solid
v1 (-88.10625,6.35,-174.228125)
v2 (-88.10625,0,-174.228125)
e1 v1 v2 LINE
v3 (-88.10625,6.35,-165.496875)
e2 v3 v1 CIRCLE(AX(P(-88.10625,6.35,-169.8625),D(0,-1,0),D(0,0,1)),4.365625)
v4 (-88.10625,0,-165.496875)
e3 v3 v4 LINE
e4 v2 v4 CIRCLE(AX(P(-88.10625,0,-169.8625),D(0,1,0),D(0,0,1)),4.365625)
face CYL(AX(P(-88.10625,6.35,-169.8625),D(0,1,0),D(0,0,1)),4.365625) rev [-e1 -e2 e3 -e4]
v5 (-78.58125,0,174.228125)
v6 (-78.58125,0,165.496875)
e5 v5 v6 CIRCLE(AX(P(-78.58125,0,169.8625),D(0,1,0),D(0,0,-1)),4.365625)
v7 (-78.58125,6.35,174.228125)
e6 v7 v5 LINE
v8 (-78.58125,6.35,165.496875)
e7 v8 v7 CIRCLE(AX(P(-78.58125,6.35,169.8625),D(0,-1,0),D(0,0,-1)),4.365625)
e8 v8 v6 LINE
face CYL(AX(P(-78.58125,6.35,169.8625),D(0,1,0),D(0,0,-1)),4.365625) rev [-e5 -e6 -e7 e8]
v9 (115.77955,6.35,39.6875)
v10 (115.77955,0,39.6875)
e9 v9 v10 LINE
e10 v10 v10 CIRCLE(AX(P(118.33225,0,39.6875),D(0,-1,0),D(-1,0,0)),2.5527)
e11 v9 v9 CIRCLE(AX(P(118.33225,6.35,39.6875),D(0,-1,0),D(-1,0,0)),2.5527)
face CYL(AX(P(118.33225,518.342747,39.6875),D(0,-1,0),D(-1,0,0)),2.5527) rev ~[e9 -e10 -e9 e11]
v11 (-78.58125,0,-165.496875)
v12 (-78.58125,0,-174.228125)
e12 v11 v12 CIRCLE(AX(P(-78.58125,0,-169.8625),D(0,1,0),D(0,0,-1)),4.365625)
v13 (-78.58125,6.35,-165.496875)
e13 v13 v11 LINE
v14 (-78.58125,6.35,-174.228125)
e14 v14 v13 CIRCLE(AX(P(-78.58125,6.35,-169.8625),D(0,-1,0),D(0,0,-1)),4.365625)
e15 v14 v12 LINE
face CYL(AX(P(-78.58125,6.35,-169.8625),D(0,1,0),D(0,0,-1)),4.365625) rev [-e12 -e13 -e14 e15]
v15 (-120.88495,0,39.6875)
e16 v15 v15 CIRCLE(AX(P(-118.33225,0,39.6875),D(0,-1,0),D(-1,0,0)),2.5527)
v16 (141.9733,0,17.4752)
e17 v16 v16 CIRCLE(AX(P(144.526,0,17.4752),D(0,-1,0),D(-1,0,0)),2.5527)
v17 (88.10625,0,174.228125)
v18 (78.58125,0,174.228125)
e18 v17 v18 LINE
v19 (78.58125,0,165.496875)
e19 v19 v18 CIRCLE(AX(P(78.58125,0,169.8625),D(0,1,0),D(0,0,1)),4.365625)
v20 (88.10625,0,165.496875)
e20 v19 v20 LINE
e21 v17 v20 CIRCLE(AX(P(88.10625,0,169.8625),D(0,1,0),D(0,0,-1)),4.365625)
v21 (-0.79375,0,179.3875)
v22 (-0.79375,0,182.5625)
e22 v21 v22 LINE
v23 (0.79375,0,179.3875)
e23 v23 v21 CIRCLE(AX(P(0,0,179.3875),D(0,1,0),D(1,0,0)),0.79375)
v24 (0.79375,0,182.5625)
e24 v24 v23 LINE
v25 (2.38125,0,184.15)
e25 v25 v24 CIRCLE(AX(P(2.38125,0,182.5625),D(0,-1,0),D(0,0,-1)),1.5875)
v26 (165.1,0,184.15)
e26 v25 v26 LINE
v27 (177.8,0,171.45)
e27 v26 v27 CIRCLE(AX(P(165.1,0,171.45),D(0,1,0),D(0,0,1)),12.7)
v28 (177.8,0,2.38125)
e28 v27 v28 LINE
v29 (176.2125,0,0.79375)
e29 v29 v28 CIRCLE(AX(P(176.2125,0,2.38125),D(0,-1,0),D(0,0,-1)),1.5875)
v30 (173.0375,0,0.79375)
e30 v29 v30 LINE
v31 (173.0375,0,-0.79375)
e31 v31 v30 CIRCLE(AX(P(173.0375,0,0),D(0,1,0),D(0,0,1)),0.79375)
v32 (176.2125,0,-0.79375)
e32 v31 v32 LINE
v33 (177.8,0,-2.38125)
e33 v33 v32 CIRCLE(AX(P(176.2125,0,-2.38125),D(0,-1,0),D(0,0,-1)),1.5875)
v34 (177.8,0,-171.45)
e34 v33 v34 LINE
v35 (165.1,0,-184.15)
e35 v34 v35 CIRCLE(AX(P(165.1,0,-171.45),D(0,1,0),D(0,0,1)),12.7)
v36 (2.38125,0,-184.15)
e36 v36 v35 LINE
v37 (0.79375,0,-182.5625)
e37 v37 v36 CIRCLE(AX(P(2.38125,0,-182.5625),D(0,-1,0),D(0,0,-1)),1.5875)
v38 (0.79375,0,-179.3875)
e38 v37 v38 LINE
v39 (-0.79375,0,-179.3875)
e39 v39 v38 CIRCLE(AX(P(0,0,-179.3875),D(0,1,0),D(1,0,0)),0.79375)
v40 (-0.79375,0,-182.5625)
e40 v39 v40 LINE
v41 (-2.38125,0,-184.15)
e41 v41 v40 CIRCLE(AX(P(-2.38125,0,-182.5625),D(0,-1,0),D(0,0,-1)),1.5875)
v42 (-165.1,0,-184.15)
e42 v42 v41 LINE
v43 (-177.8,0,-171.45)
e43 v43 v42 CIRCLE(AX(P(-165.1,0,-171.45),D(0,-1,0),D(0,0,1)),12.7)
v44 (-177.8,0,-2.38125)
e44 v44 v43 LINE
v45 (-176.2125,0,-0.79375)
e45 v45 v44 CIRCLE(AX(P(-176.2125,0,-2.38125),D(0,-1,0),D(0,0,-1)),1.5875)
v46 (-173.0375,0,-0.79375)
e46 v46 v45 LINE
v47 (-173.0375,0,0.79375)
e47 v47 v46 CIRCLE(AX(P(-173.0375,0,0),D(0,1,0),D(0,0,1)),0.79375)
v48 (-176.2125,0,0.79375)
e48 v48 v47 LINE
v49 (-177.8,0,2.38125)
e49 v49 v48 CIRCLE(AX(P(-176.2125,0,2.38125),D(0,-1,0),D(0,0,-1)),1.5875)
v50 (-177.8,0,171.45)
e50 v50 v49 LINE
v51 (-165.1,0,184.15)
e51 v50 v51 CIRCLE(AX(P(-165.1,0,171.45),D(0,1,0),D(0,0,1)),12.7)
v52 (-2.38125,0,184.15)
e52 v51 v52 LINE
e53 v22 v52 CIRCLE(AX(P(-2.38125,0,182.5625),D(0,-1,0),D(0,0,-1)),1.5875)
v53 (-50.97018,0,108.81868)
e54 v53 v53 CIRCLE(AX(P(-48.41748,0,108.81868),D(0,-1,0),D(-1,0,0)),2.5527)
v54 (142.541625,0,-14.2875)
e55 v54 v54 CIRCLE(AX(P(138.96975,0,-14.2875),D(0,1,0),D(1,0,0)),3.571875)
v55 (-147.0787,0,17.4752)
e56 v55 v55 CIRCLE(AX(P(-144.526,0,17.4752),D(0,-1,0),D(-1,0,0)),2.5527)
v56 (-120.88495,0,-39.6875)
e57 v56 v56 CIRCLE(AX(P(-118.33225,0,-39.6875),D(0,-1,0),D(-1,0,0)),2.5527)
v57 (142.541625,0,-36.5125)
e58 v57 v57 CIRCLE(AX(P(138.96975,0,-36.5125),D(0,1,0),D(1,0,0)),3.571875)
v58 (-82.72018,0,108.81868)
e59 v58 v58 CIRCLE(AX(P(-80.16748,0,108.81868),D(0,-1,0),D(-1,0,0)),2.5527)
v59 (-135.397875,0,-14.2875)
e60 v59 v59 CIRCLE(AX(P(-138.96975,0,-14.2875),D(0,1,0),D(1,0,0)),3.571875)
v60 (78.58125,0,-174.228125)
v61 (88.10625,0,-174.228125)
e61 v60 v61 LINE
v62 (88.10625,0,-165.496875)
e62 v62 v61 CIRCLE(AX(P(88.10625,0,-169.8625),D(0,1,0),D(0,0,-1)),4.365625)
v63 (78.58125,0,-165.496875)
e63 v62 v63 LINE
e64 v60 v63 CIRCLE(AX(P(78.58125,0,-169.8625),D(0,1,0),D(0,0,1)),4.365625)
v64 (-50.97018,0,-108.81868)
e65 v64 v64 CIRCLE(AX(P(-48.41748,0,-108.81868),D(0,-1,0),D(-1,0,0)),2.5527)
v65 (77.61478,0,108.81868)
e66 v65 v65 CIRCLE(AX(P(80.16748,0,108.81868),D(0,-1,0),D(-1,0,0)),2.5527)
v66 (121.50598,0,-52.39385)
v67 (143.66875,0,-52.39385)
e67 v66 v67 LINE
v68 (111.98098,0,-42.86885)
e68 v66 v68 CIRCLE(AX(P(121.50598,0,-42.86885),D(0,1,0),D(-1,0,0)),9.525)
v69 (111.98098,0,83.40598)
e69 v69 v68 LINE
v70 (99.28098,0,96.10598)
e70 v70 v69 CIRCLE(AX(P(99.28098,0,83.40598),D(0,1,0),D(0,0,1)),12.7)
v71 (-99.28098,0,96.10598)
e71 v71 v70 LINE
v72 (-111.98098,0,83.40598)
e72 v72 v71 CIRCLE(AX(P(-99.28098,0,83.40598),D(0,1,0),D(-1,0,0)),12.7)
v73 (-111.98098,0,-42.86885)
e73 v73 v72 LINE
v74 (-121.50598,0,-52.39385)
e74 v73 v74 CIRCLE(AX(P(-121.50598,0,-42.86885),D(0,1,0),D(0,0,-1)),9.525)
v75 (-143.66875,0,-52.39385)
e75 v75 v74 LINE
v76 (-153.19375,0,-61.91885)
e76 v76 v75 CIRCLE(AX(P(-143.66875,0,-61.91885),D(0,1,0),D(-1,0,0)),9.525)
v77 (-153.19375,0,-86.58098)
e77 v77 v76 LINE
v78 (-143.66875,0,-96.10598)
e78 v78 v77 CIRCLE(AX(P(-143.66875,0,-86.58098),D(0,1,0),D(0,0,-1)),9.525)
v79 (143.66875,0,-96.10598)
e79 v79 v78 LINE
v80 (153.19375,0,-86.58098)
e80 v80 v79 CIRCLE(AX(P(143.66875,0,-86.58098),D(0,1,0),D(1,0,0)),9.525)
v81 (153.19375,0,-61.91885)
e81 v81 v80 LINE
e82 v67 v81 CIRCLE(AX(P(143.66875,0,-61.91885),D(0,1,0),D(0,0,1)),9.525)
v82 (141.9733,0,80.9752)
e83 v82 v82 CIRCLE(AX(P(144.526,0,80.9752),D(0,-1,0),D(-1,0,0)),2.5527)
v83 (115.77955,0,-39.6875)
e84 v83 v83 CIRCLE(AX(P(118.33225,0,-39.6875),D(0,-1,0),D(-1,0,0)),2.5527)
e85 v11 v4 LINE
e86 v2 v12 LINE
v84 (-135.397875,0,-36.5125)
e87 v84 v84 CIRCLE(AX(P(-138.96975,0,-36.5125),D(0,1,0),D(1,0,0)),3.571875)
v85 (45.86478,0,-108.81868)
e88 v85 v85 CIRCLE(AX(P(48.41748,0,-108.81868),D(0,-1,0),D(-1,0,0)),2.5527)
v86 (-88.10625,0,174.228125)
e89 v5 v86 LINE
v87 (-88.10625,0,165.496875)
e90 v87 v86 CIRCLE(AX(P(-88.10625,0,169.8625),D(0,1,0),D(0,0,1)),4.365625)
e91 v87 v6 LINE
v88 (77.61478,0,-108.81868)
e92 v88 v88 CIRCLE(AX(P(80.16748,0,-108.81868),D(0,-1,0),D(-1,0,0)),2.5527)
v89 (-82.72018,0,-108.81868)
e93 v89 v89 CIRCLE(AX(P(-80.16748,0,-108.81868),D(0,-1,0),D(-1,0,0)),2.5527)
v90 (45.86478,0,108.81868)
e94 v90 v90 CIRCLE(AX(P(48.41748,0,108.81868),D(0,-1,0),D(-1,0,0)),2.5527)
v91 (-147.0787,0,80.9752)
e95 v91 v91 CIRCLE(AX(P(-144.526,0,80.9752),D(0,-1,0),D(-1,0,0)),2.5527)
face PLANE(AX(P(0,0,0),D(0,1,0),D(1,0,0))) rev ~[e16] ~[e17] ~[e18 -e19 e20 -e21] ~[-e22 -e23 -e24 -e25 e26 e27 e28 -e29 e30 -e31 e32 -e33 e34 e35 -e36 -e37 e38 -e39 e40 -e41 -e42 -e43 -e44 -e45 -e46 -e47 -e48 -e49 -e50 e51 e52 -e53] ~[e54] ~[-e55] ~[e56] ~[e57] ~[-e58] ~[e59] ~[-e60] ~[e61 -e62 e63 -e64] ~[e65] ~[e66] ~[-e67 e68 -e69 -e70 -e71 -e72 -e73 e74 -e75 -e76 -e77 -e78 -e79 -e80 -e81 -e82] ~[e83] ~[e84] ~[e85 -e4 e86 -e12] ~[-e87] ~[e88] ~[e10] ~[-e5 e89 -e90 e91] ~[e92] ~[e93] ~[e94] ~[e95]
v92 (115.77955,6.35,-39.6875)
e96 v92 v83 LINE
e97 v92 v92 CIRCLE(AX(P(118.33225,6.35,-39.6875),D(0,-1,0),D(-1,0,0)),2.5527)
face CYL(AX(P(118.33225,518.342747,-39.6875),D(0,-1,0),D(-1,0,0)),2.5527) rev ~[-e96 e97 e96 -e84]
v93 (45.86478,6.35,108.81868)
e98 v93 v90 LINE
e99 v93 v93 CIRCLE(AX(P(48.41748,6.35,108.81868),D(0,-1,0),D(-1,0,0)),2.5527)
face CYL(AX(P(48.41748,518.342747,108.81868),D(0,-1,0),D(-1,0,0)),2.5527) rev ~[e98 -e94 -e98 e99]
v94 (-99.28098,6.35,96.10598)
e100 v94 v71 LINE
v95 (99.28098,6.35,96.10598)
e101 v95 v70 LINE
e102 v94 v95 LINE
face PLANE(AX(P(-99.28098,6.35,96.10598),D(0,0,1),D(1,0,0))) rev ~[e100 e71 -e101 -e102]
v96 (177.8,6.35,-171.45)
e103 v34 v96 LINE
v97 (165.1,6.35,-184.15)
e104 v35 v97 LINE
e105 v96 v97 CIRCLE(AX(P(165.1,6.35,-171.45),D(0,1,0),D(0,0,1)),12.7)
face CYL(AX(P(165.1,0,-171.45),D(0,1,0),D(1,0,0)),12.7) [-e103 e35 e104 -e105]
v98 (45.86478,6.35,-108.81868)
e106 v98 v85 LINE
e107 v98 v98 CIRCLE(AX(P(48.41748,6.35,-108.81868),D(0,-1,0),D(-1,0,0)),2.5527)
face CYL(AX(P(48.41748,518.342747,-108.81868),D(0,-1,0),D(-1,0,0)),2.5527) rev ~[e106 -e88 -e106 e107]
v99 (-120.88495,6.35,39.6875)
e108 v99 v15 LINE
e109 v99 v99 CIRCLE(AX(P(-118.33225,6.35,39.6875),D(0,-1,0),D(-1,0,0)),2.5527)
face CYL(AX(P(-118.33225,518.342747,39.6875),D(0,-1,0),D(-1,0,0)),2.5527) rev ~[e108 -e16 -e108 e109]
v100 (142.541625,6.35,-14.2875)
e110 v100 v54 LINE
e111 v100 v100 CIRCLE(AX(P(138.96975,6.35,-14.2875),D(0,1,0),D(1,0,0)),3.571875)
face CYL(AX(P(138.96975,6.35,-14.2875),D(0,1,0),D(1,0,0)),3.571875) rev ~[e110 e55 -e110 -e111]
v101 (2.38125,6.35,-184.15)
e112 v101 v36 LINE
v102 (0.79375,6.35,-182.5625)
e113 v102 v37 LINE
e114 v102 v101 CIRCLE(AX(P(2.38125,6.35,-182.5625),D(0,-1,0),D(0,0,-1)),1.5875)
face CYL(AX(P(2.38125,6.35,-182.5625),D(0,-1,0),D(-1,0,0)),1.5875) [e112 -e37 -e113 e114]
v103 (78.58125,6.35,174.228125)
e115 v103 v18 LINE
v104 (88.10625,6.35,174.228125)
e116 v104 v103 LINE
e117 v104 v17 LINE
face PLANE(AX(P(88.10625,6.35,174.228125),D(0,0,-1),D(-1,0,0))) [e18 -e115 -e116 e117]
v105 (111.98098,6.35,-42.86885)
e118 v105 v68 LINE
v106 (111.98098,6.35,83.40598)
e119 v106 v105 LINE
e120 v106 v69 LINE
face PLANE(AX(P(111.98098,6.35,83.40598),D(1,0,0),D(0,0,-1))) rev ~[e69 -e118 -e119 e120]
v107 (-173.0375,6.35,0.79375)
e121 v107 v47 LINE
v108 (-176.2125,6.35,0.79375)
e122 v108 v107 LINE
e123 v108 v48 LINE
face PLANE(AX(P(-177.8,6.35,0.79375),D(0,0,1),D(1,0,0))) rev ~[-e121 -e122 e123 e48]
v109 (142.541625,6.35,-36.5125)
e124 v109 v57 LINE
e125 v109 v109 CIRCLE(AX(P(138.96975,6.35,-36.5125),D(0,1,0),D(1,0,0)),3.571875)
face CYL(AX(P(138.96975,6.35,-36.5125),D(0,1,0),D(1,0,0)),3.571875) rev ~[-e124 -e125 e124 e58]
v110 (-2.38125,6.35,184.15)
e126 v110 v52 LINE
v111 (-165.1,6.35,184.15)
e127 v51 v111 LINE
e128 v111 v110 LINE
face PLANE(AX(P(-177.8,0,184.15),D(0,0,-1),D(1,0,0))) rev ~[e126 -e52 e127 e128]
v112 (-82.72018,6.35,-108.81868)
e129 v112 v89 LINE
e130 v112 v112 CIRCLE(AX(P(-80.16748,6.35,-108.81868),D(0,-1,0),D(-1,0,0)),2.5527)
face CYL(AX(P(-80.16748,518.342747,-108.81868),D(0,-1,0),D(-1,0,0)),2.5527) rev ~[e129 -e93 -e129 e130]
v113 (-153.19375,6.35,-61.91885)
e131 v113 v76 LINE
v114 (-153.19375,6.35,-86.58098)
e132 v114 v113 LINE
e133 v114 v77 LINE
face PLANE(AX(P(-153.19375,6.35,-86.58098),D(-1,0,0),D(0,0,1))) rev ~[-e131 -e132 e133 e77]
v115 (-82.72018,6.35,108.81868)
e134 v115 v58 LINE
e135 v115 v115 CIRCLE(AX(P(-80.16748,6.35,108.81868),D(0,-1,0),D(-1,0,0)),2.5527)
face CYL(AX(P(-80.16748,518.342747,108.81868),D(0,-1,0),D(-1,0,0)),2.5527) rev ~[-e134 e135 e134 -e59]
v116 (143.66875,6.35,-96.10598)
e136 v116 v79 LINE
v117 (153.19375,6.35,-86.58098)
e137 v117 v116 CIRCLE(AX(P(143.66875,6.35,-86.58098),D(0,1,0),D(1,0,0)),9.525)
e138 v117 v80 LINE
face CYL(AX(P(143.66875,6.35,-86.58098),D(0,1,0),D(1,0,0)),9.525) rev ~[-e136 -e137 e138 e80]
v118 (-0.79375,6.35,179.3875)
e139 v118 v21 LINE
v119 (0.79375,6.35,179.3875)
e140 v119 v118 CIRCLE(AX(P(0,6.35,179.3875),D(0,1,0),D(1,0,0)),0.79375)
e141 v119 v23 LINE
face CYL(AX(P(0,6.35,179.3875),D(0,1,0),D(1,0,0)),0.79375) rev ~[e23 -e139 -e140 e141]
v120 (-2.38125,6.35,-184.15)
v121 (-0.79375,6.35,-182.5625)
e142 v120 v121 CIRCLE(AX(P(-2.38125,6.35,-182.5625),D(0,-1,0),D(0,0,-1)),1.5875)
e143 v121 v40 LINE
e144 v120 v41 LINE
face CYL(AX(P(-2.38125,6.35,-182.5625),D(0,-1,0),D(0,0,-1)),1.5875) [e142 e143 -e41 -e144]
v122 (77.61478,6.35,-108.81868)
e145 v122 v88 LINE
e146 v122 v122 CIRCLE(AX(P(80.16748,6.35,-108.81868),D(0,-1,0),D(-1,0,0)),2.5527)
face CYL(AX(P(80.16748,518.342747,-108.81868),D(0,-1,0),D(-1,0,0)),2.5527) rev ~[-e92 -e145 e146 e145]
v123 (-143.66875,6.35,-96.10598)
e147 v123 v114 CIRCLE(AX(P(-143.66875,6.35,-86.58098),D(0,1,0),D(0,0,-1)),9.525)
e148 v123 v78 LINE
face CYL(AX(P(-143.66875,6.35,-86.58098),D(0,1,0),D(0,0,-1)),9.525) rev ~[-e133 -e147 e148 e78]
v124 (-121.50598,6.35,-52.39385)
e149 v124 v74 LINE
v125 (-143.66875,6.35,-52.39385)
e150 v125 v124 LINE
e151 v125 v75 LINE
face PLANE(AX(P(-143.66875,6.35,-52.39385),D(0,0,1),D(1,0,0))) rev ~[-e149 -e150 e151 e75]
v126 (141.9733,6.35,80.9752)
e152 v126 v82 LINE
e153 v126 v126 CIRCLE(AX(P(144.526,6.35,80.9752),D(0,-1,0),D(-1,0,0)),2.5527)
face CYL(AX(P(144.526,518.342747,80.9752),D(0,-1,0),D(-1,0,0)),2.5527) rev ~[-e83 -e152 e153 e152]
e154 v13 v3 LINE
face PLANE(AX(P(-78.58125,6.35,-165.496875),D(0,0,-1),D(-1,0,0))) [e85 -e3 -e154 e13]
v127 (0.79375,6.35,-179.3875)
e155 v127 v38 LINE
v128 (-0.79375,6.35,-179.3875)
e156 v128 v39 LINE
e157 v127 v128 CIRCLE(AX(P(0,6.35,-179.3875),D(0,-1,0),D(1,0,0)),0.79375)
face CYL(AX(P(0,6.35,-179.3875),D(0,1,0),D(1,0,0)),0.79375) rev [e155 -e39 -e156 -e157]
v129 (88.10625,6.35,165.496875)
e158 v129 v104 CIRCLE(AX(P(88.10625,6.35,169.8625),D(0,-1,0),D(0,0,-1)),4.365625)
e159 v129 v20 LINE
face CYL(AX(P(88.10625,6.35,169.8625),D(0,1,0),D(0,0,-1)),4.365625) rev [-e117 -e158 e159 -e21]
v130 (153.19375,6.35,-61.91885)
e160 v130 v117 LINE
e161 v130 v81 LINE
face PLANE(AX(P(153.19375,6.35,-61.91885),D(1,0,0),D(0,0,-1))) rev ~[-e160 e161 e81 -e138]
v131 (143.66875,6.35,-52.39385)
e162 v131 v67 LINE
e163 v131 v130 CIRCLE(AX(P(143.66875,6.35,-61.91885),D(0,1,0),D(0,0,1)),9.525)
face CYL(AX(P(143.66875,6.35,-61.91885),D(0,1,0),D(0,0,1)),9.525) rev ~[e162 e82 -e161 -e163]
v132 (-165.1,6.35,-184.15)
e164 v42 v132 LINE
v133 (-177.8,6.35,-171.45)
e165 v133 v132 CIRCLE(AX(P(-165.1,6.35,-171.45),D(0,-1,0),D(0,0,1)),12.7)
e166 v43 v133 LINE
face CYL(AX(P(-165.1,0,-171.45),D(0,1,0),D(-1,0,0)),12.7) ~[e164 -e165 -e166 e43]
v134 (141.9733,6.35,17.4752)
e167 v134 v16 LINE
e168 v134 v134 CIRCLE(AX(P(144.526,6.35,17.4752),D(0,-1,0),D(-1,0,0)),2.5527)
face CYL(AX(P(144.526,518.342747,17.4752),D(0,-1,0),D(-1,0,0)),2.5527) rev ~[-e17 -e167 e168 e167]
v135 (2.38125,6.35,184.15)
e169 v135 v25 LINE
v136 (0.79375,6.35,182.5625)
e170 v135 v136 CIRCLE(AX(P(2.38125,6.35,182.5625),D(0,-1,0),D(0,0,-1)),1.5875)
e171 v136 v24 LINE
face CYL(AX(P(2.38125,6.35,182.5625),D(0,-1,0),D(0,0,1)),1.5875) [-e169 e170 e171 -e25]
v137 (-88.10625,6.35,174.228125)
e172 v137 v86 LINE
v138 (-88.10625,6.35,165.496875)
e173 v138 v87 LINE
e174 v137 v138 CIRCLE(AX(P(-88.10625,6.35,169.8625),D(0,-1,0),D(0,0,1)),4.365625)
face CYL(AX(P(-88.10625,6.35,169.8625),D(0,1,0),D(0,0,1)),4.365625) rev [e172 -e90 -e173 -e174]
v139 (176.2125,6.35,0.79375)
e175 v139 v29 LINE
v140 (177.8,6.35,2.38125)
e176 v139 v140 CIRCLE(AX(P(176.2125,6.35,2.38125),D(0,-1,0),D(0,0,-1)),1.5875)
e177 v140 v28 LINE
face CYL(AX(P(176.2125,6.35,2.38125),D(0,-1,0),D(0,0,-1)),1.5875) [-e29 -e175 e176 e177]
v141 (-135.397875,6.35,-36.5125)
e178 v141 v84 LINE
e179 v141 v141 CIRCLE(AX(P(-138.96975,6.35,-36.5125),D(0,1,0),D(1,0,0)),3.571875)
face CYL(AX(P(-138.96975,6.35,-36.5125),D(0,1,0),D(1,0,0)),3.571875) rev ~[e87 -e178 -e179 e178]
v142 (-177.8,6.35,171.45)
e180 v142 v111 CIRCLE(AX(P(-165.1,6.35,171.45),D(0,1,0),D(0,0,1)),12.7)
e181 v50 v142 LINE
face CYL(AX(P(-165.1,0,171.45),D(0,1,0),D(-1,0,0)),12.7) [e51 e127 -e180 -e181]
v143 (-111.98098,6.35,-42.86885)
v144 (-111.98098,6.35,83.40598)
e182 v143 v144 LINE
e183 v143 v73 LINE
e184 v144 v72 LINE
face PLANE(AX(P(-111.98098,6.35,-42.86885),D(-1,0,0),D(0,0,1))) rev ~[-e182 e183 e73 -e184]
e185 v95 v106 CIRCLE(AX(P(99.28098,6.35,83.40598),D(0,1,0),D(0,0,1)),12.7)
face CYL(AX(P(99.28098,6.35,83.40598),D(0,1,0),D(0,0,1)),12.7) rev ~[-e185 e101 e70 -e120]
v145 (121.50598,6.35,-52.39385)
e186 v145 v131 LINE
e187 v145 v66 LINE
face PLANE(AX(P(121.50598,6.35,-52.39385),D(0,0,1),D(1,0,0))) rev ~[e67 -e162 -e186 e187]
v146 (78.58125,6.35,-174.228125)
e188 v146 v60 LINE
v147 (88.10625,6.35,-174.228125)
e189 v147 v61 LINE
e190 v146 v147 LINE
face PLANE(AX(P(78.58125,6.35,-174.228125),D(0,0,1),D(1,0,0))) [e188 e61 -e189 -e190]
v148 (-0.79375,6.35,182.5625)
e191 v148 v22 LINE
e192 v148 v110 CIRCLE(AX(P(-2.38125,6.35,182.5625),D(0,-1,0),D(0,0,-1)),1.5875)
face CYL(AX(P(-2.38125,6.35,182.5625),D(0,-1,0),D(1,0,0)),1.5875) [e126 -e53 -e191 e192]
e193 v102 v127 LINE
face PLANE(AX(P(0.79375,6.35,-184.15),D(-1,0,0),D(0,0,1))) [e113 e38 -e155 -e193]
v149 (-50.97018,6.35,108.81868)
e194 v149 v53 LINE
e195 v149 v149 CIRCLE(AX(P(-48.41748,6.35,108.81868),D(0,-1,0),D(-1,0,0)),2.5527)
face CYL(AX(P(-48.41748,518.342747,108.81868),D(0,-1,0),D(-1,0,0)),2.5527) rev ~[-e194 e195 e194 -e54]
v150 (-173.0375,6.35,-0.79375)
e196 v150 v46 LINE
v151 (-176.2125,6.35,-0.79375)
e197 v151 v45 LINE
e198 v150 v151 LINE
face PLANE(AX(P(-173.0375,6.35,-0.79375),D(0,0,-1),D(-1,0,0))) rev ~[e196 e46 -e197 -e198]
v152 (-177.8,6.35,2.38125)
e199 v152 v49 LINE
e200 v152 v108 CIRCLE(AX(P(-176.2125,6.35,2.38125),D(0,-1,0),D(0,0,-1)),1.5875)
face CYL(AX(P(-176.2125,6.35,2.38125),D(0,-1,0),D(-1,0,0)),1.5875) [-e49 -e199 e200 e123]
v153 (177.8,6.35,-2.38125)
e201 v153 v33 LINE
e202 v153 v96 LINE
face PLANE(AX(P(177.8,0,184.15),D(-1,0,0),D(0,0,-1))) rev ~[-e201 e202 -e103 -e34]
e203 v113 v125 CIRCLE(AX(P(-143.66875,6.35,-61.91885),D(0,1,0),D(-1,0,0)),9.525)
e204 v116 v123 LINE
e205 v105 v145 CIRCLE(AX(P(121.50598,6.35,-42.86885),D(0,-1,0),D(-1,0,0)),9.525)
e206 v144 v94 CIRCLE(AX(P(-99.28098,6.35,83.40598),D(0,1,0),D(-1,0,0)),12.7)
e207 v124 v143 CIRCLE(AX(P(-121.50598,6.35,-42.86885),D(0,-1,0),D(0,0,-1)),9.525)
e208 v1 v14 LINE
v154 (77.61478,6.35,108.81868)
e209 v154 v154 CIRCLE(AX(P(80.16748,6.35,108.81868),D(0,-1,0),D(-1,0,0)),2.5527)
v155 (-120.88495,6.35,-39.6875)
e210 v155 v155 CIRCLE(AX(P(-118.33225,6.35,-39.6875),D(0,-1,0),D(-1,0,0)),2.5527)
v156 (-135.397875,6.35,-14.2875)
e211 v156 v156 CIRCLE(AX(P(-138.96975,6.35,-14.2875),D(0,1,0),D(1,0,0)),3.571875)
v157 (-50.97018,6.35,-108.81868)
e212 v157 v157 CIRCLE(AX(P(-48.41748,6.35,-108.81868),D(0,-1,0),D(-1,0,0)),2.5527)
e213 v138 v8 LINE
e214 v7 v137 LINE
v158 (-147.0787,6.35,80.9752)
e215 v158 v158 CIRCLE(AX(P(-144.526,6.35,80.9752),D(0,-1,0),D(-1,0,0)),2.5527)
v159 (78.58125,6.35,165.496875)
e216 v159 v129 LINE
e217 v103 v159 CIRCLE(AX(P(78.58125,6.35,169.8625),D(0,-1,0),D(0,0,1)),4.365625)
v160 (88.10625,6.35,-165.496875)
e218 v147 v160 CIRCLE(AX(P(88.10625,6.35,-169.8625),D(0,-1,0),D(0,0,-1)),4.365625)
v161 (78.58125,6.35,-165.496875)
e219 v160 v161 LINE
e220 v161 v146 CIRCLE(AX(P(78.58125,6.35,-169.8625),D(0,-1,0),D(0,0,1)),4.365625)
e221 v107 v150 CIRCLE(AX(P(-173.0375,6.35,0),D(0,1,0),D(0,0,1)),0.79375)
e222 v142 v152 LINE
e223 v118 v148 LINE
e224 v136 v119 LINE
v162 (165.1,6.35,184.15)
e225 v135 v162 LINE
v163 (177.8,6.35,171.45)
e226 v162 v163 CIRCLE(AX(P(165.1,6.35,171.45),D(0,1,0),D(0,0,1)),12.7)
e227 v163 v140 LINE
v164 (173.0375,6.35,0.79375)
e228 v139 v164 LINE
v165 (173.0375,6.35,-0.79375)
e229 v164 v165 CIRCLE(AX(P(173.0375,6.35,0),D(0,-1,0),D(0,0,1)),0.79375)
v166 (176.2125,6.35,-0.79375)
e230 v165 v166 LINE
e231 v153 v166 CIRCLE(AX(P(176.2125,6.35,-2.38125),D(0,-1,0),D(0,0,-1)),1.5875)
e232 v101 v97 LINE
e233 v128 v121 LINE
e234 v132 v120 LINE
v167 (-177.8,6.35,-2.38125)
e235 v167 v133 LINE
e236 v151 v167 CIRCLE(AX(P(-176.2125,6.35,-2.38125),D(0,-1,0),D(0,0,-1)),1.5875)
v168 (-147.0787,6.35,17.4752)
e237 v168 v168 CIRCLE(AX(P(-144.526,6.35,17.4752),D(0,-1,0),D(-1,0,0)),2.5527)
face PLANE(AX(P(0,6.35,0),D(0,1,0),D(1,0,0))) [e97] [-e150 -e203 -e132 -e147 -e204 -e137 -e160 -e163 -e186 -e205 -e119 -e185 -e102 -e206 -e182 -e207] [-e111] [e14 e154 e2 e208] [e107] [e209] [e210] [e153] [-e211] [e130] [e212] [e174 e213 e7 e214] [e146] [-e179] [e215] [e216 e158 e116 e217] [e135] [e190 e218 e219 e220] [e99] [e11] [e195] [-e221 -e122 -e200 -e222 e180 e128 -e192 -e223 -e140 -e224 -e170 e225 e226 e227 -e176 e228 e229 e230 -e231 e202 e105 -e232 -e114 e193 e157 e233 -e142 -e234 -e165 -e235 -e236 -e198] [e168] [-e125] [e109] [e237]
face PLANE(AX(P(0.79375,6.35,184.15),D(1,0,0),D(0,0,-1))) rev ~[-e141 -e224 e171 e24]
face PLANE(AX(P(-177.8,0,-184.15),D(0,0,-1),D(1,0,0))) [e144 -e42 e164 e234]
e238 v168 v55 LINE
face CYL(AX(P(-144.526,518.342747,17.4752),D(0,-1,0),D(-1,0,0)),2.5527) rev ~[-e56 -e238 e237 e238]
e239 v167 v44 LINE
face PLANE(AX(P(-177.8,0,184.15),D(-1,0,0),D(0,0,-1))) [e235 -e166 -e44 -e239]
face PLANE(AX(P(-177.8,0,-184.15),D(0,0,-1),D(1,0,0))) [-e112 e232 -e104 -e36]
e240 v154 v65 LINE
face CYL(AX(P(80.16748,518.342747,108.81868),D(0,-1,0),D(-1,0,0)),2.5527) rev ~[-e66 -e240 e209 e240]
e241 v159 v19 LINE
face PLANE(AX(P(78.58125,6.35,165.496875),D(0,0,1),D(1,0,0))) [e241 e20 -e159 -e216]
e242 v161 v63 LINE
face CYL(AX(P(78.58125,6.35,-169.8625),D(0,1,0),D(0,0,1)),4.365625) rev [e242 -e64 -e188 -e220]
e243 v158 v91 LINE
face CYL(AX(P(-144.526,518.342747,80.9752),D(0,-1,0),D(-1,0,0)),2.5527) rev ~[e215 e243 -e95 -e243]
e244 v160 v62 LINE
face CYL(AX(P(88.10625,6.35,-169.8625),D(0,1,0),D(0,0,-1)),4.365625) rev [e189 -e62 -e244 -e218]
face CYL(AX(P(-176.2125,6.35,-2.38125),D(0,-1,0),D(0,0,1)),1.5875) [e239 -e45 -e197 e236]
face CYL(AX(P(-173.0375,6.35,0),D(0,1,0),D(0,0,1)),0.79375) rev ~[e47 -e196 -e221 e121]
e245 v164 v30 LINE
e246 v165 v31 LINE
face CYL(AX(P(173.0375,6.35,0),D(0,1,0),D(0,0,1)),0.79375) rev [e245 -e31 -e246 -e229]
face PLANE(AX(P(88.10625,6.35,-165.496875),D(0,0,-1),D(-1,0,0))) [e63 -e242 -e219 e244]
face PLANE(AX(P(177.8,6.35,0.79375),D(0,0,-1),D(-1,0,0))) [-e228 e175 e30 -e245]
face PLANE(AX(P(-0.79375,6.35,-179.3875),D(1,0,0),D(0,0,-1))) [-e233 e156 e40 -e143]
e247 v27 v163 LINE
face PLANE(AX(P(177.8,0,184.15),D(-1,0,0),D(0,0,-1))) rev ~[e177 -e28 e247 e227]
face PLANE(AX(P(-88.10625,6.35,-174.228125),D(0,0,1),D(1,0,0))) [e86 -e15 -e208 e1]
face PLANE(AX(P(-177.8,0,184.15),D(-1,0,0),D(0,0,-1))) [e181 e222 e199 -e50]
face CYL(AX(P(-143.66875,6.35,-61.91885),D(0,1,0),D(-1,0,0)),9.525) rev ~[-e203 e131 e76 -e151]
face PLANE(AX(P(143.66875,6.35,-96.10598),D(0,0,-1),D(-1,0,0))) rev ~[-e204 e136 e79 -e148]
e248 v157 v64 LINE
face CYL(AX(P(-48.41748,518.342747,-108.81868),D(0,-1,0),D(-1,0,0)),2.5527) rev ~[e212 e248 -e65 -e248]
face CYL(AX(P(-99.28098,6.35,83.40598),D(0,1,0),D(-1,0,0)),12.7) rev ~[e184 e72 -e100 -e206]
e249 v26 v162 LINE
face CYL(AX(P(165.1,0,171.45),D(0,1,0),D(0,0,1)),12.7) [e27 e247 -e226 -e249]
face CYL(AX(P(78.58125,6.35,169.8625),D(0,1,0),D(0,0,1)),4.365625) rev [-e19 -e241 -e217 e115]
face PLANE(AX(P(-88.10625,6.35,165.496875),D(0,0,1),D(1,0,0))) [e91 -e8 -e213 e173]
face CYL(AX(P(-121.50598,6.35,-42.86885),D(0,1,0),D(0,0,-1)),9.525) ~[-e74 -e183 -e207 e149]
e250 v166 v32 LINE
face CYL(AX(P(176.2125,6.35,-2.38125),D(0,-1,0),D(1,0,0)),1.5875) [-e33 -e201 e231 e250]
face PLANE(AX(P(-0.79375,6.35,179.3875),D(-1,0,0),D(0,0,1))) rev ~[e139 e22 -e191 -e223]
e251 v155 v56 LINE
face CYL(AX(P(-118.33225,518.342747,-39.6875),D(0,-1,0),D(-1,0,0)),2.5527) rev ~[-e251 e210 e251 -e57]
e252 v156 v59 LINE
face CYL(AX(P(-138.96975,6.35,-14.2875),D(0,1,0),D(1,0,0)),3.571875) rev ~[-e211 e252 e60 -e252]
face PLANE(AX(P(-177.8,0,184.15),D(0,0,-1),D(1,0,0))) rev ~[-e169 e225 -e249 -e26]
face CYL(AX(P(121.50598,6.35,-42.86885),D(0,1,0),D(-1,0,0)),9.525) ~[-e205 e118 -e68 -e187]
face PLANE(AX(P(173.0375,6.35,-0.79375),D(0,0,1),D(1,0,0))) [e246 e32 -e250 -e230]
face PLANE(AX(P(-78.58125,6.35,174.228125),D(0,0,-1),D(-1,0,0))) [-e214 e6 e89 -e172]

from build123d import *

# Parameters (mm, degrees)
SKETCH2_W               = 355.6
SKETCH2_H               = 368.3
BOSS_EXTRUDE1_DEPTH     = 6.35
FILLET1_R               = 12.7
MOUNTING_HOLES_DEPTH    = 7.35
PLUNGER_CUTOUT_DEPTH    = 7.35
F_1_4_20_TAPPED_HOLE2_D = 5.1054
CENTERING_MARKERS_DEPTH = 7.35
FILLET2_R               = 1.5875
F_1_4_20_TAPPED_HOLE5_D = 5.1054
SKETCH17_R              = 3.571875
CUT_EXTRUDE1_DEPTH      = 7.35


with BuildPart() as part:
    # Sketch2 → Boss-Extrude1 (new body)
    with BuildSketch(Plane(origin=(0, 0, 0), x_dir=(1, 0, 0), z_dir=(0, 1, 0))):
        Rectangle(SKETCH2_W, SKETCH2_H)
    extrude(amount=BOSS_EXTRUDE1_DEPTH)

    # Fillet1
    fillet1_edges = [part.edges().sort_by_distance(p)[0] for p in [
        (177.8, 3.175, 184.15),
        (-177.8, 3.175, 184.15),
        (-177.8, 3.175, -184.15),
        (177.8, 3.175, -184.15),
    ]]
    fillet(fillet1_edges, radius=FILLET1_R)

    # Sketch3 → MOUNTING HOLES (cut, through all)
    with BuildSketch(Plane(origin=(0, 6.35, 0), x_dir=(1, 0, 0), z_dir=(0, 1, 0))):
        with BuildLine():
            Line((-88.10625, 174.228125), (-78.58125, 174.228125))
            ThreePointArc((-78.58125, 174.228125), (-74.215625, 169.8625), (-78.58125, 165.496875))
            Line((-78.58125, 165.496875), (-88.10625, 165.496875))
            ThreePointArc((-88.10625, 165.496875), (-92.471875, 169.8625), (-88.10625, 174.228125))
        make_face()
        with BuildLine():
            Line((88.10625, 165.496875), (78.58125, 165.496875))
            ThreePointArc((78.58125, 165.496875), (74.215625, 169.8625), (78.58125, 174.228125))
            Line((78.58125, 174.228125), (88.10625, 174.228125))
            ThreePointArc((88.10625, 174.228125), (92.471875, 169.8625), (88.10625, 165.496875))
        make_face()
        with BuildLine():
            Line((-88.10625, -165.496875), (-78.58125, -165.496875))
            ThreePointArc((-78.58125, -165.496875), (-74.215625, -169.8625), (-78.58125, -174.228125))
            Line((-78.58125, -174.228125), (-88.10625, -174.228125))
            ThreePointArc((-88.10625, -174.228125), (-92.471875, -169.8625), (-88.10625, -165.496875))
        make_face()
        with BuildLine():
            Line((78.58125, -165.496875), (88.10625, -165.496875))
            ThreePointArc((88.10625, -165.496875), (92.471875, -169.8625), (88.10625, -174.228125))
            Line((88.10625, -174.228125), (78.58125, -174.228125))
            ThreePointArc((78.58125, -174.228125), (74.215625, -169.8625), (78.58125, -165.496875))
        make_face()
    extrude(amount=-MOUNTING_HOLES_DEPTH, mode=Mode.SUBTRACT)

    # Sketch4 → PLUNGER CUTOUT (cut, through all)
    with BuildSketch(Plane(origin=(0, 6.35, 0), x_dir=(1, 0, 0), z_dir=(0, 1, 0))):
        with BuildLine():
            Line((-99.28098, -96.10598), (99.28098, -96.10598))
            ThreePointArc((99.28098, -96.10598), (108.261236121, -92.386236121), (111.98098, -83.40598))
            Line((111.98098, -83.40598), (111.98098, 42.86885))
            ThreePointArc((111.98098, 42.86885), (114.770787909, 49.604042091), (121.50598, 52.39385))
            Line((121.50598, 52.39385), (143.66875, 52.39385))
            ThreePointArc((143.66875, 52.39385), (150.403942091, 55.183657909), (153.19375, 61.91885))
            Line((153.19375, 61.91885), (153.19375, 86.58098))
            ThreePointArc((153.19375, 86.58098), (150.403942091, 93.316172091), (143.66875, 96.10598))
            Line((143.66875, 96.10598), (-143.66875, 96.10598))
            ThreePointArc((-143.66875, 96.10598), (-150.403942091, 93.316172091), (-153.19375, 86.58098))
            Line((-153.19375, 86.58098), (-153.19375, 61.91885))
            ThreePointArc((-153.19375, 61.91885), (-150.403942091, 55.183657909), (-143.66875, 52.39385))
            Line((-143.66875, 52.39385), (-121.50598, 52.39385))
            ThreePointArc((-121.50598, 52.39385), (-114.770787909, 49.604042091), (-111.98098, 42.86885))
            Line((-111.98098, 42.86885), (-111.98098, -83.40598))
            ThreePointArc((-111.98098, -83.40598), (-108.261236121, -92.386236121), (-99.28098, -96.10598))
        make_face()
    extrude(amount=-PLUNGER_CUTOUT_DEPTH, mode=Mode.SUBTRACT)

    # 1/4-20 Tapped Hole2 (through all)
    with Locations(Plane(origin=(0, 6.35, 0), x_dir=(1, 0, 0), z_dir=(0, 1, 0))):
        with Locations((-80.16748, -108.81868), (-48.41748, -108.81868), (48.41748, -108.81868), (80.16748, -108.81868), (80.16748, 108.81868), (48.41748, 108.81868), (-48.41748, 108.81868), (-80.16748, 108.81868)):
            Hole(F_1_4_20_TAPPED_HOLE2_D / 2)

    # Sketch10 → CENTERING MARKERS (cut, through all)
    with BuildSketch(Plane(origin=(0, 6.35, 0), x_dir=(1, 0, 0), z_dir=(0, 1, 0))):
        with BuildLine():
            Line((-0.79375, -179.3875), (-0.79375, -184.15))
            Line((-0.79375, -184.15), (0.79375, -184.15))
            Line((0.79375, -184.15), (0.79375, -179.3875))
            ThreePointArc((0.79375, -179.3875), (0, -178.59375), (-0.79375, -179.3875))
        make_face()
        with BuildLine():
            Line((-173.0375, 0.79375), (-177.8, 0.79375))
            Line((-177.8, 0.79375), (-177.8, -0.79375))
            Line((-177.8, -0.79375), (-173.0375, -0.79375))
            ThreePointArc((-173.0375, -0.79375), (-172.24375, 0), (-173.0375, 0.79375))
        make_face()
        with BuildLine():
            Line((173.0375, 0.79375), (177.8, 0.79375))
            Line((177.8, 0.79375), (177.8, -0.79375))
            Line((177.8, -0.79375), (173.0375, -0.79375))
            ThreePointArc((173.0375, -0.79375), (172.24375, 0), (173.0375, 0.79375))
        make_face()
        with BuildLine():
            Line((-0.79375, 179.3875), (-0.79375, 184.15))
            Line((-0.79375, 184.15), (0.79375, 184.15))
            Line((0.79375, 184.15), (0.79375, 179.3875))
            ThreePointArc((0.79375, 179.3875), (0, 178.59375), (-0.79375, 179.3875))
        make_face()
    extrude(amount=-CENTERING_MARKERS_DEPTH, mode=Mode.SUBTRACT)

    # Fillet2
    fillet2_edges = [part.edges().sort_by_distance(p)[0] for p in [
        (177.8, 3.175, -0.79375),
        (177.8, 3.175, 0.79375),
        (0.79375, 3.175, 184.15),
        (-0.79375, 3.175, 184.15),
        (-0.79375, 3.175, -184.15),
        (0.79375, 3.175, -184.15),
        (-177.8, 3.175, 0.79375),
        (-177.8, 3.175, -0.79375),
    ]]
    fillet(fillet2_edges, radius=FILLET2_R)

    # 1/4-20 Tapped Hole5 (through all)
    with Locations(Plane(origin=(0, 6.35, 0), x_dir=(1, 0, 0), z_dir=(0, 1, 0))):
        with Locations((-144.526, -17.4752), (-144.526, -80.9752), (-118.33225, -39.6875), (-118.33225, 39.6875), (118.33225, 39.6875), (118.33225, -39.6875), (144.526, -17.4752), (144.526, -80.9752)):
            Hole(F_1_4_20_TAPPED_HOLE5_D / 2)

    # Sketch17 → Cut-Extrude1 (cut, through all)
    with BuildSketch(Plane(origin=(0, 6.35, 0), x_dir=(1, 0, 0), z_dir=(0, 1, 0))):
        with Locations((-138.96975, 36.5125)):
            Circle(SKETCH17_R)
        with Locations((-138.96975, 14.2875)):
            Circle(SKETCH17_R)
        with Locations((138.96975, 14.2875)):
            Circle(SKETCH17_R)
        with Locations((138.96975, 36.5125)):
            Circle(SKETCH17_R)
    extrude(amount=-CUT_EXTRUDE1_DEPTH, mode=Mode.SUBTRACT)


solid = part.part
